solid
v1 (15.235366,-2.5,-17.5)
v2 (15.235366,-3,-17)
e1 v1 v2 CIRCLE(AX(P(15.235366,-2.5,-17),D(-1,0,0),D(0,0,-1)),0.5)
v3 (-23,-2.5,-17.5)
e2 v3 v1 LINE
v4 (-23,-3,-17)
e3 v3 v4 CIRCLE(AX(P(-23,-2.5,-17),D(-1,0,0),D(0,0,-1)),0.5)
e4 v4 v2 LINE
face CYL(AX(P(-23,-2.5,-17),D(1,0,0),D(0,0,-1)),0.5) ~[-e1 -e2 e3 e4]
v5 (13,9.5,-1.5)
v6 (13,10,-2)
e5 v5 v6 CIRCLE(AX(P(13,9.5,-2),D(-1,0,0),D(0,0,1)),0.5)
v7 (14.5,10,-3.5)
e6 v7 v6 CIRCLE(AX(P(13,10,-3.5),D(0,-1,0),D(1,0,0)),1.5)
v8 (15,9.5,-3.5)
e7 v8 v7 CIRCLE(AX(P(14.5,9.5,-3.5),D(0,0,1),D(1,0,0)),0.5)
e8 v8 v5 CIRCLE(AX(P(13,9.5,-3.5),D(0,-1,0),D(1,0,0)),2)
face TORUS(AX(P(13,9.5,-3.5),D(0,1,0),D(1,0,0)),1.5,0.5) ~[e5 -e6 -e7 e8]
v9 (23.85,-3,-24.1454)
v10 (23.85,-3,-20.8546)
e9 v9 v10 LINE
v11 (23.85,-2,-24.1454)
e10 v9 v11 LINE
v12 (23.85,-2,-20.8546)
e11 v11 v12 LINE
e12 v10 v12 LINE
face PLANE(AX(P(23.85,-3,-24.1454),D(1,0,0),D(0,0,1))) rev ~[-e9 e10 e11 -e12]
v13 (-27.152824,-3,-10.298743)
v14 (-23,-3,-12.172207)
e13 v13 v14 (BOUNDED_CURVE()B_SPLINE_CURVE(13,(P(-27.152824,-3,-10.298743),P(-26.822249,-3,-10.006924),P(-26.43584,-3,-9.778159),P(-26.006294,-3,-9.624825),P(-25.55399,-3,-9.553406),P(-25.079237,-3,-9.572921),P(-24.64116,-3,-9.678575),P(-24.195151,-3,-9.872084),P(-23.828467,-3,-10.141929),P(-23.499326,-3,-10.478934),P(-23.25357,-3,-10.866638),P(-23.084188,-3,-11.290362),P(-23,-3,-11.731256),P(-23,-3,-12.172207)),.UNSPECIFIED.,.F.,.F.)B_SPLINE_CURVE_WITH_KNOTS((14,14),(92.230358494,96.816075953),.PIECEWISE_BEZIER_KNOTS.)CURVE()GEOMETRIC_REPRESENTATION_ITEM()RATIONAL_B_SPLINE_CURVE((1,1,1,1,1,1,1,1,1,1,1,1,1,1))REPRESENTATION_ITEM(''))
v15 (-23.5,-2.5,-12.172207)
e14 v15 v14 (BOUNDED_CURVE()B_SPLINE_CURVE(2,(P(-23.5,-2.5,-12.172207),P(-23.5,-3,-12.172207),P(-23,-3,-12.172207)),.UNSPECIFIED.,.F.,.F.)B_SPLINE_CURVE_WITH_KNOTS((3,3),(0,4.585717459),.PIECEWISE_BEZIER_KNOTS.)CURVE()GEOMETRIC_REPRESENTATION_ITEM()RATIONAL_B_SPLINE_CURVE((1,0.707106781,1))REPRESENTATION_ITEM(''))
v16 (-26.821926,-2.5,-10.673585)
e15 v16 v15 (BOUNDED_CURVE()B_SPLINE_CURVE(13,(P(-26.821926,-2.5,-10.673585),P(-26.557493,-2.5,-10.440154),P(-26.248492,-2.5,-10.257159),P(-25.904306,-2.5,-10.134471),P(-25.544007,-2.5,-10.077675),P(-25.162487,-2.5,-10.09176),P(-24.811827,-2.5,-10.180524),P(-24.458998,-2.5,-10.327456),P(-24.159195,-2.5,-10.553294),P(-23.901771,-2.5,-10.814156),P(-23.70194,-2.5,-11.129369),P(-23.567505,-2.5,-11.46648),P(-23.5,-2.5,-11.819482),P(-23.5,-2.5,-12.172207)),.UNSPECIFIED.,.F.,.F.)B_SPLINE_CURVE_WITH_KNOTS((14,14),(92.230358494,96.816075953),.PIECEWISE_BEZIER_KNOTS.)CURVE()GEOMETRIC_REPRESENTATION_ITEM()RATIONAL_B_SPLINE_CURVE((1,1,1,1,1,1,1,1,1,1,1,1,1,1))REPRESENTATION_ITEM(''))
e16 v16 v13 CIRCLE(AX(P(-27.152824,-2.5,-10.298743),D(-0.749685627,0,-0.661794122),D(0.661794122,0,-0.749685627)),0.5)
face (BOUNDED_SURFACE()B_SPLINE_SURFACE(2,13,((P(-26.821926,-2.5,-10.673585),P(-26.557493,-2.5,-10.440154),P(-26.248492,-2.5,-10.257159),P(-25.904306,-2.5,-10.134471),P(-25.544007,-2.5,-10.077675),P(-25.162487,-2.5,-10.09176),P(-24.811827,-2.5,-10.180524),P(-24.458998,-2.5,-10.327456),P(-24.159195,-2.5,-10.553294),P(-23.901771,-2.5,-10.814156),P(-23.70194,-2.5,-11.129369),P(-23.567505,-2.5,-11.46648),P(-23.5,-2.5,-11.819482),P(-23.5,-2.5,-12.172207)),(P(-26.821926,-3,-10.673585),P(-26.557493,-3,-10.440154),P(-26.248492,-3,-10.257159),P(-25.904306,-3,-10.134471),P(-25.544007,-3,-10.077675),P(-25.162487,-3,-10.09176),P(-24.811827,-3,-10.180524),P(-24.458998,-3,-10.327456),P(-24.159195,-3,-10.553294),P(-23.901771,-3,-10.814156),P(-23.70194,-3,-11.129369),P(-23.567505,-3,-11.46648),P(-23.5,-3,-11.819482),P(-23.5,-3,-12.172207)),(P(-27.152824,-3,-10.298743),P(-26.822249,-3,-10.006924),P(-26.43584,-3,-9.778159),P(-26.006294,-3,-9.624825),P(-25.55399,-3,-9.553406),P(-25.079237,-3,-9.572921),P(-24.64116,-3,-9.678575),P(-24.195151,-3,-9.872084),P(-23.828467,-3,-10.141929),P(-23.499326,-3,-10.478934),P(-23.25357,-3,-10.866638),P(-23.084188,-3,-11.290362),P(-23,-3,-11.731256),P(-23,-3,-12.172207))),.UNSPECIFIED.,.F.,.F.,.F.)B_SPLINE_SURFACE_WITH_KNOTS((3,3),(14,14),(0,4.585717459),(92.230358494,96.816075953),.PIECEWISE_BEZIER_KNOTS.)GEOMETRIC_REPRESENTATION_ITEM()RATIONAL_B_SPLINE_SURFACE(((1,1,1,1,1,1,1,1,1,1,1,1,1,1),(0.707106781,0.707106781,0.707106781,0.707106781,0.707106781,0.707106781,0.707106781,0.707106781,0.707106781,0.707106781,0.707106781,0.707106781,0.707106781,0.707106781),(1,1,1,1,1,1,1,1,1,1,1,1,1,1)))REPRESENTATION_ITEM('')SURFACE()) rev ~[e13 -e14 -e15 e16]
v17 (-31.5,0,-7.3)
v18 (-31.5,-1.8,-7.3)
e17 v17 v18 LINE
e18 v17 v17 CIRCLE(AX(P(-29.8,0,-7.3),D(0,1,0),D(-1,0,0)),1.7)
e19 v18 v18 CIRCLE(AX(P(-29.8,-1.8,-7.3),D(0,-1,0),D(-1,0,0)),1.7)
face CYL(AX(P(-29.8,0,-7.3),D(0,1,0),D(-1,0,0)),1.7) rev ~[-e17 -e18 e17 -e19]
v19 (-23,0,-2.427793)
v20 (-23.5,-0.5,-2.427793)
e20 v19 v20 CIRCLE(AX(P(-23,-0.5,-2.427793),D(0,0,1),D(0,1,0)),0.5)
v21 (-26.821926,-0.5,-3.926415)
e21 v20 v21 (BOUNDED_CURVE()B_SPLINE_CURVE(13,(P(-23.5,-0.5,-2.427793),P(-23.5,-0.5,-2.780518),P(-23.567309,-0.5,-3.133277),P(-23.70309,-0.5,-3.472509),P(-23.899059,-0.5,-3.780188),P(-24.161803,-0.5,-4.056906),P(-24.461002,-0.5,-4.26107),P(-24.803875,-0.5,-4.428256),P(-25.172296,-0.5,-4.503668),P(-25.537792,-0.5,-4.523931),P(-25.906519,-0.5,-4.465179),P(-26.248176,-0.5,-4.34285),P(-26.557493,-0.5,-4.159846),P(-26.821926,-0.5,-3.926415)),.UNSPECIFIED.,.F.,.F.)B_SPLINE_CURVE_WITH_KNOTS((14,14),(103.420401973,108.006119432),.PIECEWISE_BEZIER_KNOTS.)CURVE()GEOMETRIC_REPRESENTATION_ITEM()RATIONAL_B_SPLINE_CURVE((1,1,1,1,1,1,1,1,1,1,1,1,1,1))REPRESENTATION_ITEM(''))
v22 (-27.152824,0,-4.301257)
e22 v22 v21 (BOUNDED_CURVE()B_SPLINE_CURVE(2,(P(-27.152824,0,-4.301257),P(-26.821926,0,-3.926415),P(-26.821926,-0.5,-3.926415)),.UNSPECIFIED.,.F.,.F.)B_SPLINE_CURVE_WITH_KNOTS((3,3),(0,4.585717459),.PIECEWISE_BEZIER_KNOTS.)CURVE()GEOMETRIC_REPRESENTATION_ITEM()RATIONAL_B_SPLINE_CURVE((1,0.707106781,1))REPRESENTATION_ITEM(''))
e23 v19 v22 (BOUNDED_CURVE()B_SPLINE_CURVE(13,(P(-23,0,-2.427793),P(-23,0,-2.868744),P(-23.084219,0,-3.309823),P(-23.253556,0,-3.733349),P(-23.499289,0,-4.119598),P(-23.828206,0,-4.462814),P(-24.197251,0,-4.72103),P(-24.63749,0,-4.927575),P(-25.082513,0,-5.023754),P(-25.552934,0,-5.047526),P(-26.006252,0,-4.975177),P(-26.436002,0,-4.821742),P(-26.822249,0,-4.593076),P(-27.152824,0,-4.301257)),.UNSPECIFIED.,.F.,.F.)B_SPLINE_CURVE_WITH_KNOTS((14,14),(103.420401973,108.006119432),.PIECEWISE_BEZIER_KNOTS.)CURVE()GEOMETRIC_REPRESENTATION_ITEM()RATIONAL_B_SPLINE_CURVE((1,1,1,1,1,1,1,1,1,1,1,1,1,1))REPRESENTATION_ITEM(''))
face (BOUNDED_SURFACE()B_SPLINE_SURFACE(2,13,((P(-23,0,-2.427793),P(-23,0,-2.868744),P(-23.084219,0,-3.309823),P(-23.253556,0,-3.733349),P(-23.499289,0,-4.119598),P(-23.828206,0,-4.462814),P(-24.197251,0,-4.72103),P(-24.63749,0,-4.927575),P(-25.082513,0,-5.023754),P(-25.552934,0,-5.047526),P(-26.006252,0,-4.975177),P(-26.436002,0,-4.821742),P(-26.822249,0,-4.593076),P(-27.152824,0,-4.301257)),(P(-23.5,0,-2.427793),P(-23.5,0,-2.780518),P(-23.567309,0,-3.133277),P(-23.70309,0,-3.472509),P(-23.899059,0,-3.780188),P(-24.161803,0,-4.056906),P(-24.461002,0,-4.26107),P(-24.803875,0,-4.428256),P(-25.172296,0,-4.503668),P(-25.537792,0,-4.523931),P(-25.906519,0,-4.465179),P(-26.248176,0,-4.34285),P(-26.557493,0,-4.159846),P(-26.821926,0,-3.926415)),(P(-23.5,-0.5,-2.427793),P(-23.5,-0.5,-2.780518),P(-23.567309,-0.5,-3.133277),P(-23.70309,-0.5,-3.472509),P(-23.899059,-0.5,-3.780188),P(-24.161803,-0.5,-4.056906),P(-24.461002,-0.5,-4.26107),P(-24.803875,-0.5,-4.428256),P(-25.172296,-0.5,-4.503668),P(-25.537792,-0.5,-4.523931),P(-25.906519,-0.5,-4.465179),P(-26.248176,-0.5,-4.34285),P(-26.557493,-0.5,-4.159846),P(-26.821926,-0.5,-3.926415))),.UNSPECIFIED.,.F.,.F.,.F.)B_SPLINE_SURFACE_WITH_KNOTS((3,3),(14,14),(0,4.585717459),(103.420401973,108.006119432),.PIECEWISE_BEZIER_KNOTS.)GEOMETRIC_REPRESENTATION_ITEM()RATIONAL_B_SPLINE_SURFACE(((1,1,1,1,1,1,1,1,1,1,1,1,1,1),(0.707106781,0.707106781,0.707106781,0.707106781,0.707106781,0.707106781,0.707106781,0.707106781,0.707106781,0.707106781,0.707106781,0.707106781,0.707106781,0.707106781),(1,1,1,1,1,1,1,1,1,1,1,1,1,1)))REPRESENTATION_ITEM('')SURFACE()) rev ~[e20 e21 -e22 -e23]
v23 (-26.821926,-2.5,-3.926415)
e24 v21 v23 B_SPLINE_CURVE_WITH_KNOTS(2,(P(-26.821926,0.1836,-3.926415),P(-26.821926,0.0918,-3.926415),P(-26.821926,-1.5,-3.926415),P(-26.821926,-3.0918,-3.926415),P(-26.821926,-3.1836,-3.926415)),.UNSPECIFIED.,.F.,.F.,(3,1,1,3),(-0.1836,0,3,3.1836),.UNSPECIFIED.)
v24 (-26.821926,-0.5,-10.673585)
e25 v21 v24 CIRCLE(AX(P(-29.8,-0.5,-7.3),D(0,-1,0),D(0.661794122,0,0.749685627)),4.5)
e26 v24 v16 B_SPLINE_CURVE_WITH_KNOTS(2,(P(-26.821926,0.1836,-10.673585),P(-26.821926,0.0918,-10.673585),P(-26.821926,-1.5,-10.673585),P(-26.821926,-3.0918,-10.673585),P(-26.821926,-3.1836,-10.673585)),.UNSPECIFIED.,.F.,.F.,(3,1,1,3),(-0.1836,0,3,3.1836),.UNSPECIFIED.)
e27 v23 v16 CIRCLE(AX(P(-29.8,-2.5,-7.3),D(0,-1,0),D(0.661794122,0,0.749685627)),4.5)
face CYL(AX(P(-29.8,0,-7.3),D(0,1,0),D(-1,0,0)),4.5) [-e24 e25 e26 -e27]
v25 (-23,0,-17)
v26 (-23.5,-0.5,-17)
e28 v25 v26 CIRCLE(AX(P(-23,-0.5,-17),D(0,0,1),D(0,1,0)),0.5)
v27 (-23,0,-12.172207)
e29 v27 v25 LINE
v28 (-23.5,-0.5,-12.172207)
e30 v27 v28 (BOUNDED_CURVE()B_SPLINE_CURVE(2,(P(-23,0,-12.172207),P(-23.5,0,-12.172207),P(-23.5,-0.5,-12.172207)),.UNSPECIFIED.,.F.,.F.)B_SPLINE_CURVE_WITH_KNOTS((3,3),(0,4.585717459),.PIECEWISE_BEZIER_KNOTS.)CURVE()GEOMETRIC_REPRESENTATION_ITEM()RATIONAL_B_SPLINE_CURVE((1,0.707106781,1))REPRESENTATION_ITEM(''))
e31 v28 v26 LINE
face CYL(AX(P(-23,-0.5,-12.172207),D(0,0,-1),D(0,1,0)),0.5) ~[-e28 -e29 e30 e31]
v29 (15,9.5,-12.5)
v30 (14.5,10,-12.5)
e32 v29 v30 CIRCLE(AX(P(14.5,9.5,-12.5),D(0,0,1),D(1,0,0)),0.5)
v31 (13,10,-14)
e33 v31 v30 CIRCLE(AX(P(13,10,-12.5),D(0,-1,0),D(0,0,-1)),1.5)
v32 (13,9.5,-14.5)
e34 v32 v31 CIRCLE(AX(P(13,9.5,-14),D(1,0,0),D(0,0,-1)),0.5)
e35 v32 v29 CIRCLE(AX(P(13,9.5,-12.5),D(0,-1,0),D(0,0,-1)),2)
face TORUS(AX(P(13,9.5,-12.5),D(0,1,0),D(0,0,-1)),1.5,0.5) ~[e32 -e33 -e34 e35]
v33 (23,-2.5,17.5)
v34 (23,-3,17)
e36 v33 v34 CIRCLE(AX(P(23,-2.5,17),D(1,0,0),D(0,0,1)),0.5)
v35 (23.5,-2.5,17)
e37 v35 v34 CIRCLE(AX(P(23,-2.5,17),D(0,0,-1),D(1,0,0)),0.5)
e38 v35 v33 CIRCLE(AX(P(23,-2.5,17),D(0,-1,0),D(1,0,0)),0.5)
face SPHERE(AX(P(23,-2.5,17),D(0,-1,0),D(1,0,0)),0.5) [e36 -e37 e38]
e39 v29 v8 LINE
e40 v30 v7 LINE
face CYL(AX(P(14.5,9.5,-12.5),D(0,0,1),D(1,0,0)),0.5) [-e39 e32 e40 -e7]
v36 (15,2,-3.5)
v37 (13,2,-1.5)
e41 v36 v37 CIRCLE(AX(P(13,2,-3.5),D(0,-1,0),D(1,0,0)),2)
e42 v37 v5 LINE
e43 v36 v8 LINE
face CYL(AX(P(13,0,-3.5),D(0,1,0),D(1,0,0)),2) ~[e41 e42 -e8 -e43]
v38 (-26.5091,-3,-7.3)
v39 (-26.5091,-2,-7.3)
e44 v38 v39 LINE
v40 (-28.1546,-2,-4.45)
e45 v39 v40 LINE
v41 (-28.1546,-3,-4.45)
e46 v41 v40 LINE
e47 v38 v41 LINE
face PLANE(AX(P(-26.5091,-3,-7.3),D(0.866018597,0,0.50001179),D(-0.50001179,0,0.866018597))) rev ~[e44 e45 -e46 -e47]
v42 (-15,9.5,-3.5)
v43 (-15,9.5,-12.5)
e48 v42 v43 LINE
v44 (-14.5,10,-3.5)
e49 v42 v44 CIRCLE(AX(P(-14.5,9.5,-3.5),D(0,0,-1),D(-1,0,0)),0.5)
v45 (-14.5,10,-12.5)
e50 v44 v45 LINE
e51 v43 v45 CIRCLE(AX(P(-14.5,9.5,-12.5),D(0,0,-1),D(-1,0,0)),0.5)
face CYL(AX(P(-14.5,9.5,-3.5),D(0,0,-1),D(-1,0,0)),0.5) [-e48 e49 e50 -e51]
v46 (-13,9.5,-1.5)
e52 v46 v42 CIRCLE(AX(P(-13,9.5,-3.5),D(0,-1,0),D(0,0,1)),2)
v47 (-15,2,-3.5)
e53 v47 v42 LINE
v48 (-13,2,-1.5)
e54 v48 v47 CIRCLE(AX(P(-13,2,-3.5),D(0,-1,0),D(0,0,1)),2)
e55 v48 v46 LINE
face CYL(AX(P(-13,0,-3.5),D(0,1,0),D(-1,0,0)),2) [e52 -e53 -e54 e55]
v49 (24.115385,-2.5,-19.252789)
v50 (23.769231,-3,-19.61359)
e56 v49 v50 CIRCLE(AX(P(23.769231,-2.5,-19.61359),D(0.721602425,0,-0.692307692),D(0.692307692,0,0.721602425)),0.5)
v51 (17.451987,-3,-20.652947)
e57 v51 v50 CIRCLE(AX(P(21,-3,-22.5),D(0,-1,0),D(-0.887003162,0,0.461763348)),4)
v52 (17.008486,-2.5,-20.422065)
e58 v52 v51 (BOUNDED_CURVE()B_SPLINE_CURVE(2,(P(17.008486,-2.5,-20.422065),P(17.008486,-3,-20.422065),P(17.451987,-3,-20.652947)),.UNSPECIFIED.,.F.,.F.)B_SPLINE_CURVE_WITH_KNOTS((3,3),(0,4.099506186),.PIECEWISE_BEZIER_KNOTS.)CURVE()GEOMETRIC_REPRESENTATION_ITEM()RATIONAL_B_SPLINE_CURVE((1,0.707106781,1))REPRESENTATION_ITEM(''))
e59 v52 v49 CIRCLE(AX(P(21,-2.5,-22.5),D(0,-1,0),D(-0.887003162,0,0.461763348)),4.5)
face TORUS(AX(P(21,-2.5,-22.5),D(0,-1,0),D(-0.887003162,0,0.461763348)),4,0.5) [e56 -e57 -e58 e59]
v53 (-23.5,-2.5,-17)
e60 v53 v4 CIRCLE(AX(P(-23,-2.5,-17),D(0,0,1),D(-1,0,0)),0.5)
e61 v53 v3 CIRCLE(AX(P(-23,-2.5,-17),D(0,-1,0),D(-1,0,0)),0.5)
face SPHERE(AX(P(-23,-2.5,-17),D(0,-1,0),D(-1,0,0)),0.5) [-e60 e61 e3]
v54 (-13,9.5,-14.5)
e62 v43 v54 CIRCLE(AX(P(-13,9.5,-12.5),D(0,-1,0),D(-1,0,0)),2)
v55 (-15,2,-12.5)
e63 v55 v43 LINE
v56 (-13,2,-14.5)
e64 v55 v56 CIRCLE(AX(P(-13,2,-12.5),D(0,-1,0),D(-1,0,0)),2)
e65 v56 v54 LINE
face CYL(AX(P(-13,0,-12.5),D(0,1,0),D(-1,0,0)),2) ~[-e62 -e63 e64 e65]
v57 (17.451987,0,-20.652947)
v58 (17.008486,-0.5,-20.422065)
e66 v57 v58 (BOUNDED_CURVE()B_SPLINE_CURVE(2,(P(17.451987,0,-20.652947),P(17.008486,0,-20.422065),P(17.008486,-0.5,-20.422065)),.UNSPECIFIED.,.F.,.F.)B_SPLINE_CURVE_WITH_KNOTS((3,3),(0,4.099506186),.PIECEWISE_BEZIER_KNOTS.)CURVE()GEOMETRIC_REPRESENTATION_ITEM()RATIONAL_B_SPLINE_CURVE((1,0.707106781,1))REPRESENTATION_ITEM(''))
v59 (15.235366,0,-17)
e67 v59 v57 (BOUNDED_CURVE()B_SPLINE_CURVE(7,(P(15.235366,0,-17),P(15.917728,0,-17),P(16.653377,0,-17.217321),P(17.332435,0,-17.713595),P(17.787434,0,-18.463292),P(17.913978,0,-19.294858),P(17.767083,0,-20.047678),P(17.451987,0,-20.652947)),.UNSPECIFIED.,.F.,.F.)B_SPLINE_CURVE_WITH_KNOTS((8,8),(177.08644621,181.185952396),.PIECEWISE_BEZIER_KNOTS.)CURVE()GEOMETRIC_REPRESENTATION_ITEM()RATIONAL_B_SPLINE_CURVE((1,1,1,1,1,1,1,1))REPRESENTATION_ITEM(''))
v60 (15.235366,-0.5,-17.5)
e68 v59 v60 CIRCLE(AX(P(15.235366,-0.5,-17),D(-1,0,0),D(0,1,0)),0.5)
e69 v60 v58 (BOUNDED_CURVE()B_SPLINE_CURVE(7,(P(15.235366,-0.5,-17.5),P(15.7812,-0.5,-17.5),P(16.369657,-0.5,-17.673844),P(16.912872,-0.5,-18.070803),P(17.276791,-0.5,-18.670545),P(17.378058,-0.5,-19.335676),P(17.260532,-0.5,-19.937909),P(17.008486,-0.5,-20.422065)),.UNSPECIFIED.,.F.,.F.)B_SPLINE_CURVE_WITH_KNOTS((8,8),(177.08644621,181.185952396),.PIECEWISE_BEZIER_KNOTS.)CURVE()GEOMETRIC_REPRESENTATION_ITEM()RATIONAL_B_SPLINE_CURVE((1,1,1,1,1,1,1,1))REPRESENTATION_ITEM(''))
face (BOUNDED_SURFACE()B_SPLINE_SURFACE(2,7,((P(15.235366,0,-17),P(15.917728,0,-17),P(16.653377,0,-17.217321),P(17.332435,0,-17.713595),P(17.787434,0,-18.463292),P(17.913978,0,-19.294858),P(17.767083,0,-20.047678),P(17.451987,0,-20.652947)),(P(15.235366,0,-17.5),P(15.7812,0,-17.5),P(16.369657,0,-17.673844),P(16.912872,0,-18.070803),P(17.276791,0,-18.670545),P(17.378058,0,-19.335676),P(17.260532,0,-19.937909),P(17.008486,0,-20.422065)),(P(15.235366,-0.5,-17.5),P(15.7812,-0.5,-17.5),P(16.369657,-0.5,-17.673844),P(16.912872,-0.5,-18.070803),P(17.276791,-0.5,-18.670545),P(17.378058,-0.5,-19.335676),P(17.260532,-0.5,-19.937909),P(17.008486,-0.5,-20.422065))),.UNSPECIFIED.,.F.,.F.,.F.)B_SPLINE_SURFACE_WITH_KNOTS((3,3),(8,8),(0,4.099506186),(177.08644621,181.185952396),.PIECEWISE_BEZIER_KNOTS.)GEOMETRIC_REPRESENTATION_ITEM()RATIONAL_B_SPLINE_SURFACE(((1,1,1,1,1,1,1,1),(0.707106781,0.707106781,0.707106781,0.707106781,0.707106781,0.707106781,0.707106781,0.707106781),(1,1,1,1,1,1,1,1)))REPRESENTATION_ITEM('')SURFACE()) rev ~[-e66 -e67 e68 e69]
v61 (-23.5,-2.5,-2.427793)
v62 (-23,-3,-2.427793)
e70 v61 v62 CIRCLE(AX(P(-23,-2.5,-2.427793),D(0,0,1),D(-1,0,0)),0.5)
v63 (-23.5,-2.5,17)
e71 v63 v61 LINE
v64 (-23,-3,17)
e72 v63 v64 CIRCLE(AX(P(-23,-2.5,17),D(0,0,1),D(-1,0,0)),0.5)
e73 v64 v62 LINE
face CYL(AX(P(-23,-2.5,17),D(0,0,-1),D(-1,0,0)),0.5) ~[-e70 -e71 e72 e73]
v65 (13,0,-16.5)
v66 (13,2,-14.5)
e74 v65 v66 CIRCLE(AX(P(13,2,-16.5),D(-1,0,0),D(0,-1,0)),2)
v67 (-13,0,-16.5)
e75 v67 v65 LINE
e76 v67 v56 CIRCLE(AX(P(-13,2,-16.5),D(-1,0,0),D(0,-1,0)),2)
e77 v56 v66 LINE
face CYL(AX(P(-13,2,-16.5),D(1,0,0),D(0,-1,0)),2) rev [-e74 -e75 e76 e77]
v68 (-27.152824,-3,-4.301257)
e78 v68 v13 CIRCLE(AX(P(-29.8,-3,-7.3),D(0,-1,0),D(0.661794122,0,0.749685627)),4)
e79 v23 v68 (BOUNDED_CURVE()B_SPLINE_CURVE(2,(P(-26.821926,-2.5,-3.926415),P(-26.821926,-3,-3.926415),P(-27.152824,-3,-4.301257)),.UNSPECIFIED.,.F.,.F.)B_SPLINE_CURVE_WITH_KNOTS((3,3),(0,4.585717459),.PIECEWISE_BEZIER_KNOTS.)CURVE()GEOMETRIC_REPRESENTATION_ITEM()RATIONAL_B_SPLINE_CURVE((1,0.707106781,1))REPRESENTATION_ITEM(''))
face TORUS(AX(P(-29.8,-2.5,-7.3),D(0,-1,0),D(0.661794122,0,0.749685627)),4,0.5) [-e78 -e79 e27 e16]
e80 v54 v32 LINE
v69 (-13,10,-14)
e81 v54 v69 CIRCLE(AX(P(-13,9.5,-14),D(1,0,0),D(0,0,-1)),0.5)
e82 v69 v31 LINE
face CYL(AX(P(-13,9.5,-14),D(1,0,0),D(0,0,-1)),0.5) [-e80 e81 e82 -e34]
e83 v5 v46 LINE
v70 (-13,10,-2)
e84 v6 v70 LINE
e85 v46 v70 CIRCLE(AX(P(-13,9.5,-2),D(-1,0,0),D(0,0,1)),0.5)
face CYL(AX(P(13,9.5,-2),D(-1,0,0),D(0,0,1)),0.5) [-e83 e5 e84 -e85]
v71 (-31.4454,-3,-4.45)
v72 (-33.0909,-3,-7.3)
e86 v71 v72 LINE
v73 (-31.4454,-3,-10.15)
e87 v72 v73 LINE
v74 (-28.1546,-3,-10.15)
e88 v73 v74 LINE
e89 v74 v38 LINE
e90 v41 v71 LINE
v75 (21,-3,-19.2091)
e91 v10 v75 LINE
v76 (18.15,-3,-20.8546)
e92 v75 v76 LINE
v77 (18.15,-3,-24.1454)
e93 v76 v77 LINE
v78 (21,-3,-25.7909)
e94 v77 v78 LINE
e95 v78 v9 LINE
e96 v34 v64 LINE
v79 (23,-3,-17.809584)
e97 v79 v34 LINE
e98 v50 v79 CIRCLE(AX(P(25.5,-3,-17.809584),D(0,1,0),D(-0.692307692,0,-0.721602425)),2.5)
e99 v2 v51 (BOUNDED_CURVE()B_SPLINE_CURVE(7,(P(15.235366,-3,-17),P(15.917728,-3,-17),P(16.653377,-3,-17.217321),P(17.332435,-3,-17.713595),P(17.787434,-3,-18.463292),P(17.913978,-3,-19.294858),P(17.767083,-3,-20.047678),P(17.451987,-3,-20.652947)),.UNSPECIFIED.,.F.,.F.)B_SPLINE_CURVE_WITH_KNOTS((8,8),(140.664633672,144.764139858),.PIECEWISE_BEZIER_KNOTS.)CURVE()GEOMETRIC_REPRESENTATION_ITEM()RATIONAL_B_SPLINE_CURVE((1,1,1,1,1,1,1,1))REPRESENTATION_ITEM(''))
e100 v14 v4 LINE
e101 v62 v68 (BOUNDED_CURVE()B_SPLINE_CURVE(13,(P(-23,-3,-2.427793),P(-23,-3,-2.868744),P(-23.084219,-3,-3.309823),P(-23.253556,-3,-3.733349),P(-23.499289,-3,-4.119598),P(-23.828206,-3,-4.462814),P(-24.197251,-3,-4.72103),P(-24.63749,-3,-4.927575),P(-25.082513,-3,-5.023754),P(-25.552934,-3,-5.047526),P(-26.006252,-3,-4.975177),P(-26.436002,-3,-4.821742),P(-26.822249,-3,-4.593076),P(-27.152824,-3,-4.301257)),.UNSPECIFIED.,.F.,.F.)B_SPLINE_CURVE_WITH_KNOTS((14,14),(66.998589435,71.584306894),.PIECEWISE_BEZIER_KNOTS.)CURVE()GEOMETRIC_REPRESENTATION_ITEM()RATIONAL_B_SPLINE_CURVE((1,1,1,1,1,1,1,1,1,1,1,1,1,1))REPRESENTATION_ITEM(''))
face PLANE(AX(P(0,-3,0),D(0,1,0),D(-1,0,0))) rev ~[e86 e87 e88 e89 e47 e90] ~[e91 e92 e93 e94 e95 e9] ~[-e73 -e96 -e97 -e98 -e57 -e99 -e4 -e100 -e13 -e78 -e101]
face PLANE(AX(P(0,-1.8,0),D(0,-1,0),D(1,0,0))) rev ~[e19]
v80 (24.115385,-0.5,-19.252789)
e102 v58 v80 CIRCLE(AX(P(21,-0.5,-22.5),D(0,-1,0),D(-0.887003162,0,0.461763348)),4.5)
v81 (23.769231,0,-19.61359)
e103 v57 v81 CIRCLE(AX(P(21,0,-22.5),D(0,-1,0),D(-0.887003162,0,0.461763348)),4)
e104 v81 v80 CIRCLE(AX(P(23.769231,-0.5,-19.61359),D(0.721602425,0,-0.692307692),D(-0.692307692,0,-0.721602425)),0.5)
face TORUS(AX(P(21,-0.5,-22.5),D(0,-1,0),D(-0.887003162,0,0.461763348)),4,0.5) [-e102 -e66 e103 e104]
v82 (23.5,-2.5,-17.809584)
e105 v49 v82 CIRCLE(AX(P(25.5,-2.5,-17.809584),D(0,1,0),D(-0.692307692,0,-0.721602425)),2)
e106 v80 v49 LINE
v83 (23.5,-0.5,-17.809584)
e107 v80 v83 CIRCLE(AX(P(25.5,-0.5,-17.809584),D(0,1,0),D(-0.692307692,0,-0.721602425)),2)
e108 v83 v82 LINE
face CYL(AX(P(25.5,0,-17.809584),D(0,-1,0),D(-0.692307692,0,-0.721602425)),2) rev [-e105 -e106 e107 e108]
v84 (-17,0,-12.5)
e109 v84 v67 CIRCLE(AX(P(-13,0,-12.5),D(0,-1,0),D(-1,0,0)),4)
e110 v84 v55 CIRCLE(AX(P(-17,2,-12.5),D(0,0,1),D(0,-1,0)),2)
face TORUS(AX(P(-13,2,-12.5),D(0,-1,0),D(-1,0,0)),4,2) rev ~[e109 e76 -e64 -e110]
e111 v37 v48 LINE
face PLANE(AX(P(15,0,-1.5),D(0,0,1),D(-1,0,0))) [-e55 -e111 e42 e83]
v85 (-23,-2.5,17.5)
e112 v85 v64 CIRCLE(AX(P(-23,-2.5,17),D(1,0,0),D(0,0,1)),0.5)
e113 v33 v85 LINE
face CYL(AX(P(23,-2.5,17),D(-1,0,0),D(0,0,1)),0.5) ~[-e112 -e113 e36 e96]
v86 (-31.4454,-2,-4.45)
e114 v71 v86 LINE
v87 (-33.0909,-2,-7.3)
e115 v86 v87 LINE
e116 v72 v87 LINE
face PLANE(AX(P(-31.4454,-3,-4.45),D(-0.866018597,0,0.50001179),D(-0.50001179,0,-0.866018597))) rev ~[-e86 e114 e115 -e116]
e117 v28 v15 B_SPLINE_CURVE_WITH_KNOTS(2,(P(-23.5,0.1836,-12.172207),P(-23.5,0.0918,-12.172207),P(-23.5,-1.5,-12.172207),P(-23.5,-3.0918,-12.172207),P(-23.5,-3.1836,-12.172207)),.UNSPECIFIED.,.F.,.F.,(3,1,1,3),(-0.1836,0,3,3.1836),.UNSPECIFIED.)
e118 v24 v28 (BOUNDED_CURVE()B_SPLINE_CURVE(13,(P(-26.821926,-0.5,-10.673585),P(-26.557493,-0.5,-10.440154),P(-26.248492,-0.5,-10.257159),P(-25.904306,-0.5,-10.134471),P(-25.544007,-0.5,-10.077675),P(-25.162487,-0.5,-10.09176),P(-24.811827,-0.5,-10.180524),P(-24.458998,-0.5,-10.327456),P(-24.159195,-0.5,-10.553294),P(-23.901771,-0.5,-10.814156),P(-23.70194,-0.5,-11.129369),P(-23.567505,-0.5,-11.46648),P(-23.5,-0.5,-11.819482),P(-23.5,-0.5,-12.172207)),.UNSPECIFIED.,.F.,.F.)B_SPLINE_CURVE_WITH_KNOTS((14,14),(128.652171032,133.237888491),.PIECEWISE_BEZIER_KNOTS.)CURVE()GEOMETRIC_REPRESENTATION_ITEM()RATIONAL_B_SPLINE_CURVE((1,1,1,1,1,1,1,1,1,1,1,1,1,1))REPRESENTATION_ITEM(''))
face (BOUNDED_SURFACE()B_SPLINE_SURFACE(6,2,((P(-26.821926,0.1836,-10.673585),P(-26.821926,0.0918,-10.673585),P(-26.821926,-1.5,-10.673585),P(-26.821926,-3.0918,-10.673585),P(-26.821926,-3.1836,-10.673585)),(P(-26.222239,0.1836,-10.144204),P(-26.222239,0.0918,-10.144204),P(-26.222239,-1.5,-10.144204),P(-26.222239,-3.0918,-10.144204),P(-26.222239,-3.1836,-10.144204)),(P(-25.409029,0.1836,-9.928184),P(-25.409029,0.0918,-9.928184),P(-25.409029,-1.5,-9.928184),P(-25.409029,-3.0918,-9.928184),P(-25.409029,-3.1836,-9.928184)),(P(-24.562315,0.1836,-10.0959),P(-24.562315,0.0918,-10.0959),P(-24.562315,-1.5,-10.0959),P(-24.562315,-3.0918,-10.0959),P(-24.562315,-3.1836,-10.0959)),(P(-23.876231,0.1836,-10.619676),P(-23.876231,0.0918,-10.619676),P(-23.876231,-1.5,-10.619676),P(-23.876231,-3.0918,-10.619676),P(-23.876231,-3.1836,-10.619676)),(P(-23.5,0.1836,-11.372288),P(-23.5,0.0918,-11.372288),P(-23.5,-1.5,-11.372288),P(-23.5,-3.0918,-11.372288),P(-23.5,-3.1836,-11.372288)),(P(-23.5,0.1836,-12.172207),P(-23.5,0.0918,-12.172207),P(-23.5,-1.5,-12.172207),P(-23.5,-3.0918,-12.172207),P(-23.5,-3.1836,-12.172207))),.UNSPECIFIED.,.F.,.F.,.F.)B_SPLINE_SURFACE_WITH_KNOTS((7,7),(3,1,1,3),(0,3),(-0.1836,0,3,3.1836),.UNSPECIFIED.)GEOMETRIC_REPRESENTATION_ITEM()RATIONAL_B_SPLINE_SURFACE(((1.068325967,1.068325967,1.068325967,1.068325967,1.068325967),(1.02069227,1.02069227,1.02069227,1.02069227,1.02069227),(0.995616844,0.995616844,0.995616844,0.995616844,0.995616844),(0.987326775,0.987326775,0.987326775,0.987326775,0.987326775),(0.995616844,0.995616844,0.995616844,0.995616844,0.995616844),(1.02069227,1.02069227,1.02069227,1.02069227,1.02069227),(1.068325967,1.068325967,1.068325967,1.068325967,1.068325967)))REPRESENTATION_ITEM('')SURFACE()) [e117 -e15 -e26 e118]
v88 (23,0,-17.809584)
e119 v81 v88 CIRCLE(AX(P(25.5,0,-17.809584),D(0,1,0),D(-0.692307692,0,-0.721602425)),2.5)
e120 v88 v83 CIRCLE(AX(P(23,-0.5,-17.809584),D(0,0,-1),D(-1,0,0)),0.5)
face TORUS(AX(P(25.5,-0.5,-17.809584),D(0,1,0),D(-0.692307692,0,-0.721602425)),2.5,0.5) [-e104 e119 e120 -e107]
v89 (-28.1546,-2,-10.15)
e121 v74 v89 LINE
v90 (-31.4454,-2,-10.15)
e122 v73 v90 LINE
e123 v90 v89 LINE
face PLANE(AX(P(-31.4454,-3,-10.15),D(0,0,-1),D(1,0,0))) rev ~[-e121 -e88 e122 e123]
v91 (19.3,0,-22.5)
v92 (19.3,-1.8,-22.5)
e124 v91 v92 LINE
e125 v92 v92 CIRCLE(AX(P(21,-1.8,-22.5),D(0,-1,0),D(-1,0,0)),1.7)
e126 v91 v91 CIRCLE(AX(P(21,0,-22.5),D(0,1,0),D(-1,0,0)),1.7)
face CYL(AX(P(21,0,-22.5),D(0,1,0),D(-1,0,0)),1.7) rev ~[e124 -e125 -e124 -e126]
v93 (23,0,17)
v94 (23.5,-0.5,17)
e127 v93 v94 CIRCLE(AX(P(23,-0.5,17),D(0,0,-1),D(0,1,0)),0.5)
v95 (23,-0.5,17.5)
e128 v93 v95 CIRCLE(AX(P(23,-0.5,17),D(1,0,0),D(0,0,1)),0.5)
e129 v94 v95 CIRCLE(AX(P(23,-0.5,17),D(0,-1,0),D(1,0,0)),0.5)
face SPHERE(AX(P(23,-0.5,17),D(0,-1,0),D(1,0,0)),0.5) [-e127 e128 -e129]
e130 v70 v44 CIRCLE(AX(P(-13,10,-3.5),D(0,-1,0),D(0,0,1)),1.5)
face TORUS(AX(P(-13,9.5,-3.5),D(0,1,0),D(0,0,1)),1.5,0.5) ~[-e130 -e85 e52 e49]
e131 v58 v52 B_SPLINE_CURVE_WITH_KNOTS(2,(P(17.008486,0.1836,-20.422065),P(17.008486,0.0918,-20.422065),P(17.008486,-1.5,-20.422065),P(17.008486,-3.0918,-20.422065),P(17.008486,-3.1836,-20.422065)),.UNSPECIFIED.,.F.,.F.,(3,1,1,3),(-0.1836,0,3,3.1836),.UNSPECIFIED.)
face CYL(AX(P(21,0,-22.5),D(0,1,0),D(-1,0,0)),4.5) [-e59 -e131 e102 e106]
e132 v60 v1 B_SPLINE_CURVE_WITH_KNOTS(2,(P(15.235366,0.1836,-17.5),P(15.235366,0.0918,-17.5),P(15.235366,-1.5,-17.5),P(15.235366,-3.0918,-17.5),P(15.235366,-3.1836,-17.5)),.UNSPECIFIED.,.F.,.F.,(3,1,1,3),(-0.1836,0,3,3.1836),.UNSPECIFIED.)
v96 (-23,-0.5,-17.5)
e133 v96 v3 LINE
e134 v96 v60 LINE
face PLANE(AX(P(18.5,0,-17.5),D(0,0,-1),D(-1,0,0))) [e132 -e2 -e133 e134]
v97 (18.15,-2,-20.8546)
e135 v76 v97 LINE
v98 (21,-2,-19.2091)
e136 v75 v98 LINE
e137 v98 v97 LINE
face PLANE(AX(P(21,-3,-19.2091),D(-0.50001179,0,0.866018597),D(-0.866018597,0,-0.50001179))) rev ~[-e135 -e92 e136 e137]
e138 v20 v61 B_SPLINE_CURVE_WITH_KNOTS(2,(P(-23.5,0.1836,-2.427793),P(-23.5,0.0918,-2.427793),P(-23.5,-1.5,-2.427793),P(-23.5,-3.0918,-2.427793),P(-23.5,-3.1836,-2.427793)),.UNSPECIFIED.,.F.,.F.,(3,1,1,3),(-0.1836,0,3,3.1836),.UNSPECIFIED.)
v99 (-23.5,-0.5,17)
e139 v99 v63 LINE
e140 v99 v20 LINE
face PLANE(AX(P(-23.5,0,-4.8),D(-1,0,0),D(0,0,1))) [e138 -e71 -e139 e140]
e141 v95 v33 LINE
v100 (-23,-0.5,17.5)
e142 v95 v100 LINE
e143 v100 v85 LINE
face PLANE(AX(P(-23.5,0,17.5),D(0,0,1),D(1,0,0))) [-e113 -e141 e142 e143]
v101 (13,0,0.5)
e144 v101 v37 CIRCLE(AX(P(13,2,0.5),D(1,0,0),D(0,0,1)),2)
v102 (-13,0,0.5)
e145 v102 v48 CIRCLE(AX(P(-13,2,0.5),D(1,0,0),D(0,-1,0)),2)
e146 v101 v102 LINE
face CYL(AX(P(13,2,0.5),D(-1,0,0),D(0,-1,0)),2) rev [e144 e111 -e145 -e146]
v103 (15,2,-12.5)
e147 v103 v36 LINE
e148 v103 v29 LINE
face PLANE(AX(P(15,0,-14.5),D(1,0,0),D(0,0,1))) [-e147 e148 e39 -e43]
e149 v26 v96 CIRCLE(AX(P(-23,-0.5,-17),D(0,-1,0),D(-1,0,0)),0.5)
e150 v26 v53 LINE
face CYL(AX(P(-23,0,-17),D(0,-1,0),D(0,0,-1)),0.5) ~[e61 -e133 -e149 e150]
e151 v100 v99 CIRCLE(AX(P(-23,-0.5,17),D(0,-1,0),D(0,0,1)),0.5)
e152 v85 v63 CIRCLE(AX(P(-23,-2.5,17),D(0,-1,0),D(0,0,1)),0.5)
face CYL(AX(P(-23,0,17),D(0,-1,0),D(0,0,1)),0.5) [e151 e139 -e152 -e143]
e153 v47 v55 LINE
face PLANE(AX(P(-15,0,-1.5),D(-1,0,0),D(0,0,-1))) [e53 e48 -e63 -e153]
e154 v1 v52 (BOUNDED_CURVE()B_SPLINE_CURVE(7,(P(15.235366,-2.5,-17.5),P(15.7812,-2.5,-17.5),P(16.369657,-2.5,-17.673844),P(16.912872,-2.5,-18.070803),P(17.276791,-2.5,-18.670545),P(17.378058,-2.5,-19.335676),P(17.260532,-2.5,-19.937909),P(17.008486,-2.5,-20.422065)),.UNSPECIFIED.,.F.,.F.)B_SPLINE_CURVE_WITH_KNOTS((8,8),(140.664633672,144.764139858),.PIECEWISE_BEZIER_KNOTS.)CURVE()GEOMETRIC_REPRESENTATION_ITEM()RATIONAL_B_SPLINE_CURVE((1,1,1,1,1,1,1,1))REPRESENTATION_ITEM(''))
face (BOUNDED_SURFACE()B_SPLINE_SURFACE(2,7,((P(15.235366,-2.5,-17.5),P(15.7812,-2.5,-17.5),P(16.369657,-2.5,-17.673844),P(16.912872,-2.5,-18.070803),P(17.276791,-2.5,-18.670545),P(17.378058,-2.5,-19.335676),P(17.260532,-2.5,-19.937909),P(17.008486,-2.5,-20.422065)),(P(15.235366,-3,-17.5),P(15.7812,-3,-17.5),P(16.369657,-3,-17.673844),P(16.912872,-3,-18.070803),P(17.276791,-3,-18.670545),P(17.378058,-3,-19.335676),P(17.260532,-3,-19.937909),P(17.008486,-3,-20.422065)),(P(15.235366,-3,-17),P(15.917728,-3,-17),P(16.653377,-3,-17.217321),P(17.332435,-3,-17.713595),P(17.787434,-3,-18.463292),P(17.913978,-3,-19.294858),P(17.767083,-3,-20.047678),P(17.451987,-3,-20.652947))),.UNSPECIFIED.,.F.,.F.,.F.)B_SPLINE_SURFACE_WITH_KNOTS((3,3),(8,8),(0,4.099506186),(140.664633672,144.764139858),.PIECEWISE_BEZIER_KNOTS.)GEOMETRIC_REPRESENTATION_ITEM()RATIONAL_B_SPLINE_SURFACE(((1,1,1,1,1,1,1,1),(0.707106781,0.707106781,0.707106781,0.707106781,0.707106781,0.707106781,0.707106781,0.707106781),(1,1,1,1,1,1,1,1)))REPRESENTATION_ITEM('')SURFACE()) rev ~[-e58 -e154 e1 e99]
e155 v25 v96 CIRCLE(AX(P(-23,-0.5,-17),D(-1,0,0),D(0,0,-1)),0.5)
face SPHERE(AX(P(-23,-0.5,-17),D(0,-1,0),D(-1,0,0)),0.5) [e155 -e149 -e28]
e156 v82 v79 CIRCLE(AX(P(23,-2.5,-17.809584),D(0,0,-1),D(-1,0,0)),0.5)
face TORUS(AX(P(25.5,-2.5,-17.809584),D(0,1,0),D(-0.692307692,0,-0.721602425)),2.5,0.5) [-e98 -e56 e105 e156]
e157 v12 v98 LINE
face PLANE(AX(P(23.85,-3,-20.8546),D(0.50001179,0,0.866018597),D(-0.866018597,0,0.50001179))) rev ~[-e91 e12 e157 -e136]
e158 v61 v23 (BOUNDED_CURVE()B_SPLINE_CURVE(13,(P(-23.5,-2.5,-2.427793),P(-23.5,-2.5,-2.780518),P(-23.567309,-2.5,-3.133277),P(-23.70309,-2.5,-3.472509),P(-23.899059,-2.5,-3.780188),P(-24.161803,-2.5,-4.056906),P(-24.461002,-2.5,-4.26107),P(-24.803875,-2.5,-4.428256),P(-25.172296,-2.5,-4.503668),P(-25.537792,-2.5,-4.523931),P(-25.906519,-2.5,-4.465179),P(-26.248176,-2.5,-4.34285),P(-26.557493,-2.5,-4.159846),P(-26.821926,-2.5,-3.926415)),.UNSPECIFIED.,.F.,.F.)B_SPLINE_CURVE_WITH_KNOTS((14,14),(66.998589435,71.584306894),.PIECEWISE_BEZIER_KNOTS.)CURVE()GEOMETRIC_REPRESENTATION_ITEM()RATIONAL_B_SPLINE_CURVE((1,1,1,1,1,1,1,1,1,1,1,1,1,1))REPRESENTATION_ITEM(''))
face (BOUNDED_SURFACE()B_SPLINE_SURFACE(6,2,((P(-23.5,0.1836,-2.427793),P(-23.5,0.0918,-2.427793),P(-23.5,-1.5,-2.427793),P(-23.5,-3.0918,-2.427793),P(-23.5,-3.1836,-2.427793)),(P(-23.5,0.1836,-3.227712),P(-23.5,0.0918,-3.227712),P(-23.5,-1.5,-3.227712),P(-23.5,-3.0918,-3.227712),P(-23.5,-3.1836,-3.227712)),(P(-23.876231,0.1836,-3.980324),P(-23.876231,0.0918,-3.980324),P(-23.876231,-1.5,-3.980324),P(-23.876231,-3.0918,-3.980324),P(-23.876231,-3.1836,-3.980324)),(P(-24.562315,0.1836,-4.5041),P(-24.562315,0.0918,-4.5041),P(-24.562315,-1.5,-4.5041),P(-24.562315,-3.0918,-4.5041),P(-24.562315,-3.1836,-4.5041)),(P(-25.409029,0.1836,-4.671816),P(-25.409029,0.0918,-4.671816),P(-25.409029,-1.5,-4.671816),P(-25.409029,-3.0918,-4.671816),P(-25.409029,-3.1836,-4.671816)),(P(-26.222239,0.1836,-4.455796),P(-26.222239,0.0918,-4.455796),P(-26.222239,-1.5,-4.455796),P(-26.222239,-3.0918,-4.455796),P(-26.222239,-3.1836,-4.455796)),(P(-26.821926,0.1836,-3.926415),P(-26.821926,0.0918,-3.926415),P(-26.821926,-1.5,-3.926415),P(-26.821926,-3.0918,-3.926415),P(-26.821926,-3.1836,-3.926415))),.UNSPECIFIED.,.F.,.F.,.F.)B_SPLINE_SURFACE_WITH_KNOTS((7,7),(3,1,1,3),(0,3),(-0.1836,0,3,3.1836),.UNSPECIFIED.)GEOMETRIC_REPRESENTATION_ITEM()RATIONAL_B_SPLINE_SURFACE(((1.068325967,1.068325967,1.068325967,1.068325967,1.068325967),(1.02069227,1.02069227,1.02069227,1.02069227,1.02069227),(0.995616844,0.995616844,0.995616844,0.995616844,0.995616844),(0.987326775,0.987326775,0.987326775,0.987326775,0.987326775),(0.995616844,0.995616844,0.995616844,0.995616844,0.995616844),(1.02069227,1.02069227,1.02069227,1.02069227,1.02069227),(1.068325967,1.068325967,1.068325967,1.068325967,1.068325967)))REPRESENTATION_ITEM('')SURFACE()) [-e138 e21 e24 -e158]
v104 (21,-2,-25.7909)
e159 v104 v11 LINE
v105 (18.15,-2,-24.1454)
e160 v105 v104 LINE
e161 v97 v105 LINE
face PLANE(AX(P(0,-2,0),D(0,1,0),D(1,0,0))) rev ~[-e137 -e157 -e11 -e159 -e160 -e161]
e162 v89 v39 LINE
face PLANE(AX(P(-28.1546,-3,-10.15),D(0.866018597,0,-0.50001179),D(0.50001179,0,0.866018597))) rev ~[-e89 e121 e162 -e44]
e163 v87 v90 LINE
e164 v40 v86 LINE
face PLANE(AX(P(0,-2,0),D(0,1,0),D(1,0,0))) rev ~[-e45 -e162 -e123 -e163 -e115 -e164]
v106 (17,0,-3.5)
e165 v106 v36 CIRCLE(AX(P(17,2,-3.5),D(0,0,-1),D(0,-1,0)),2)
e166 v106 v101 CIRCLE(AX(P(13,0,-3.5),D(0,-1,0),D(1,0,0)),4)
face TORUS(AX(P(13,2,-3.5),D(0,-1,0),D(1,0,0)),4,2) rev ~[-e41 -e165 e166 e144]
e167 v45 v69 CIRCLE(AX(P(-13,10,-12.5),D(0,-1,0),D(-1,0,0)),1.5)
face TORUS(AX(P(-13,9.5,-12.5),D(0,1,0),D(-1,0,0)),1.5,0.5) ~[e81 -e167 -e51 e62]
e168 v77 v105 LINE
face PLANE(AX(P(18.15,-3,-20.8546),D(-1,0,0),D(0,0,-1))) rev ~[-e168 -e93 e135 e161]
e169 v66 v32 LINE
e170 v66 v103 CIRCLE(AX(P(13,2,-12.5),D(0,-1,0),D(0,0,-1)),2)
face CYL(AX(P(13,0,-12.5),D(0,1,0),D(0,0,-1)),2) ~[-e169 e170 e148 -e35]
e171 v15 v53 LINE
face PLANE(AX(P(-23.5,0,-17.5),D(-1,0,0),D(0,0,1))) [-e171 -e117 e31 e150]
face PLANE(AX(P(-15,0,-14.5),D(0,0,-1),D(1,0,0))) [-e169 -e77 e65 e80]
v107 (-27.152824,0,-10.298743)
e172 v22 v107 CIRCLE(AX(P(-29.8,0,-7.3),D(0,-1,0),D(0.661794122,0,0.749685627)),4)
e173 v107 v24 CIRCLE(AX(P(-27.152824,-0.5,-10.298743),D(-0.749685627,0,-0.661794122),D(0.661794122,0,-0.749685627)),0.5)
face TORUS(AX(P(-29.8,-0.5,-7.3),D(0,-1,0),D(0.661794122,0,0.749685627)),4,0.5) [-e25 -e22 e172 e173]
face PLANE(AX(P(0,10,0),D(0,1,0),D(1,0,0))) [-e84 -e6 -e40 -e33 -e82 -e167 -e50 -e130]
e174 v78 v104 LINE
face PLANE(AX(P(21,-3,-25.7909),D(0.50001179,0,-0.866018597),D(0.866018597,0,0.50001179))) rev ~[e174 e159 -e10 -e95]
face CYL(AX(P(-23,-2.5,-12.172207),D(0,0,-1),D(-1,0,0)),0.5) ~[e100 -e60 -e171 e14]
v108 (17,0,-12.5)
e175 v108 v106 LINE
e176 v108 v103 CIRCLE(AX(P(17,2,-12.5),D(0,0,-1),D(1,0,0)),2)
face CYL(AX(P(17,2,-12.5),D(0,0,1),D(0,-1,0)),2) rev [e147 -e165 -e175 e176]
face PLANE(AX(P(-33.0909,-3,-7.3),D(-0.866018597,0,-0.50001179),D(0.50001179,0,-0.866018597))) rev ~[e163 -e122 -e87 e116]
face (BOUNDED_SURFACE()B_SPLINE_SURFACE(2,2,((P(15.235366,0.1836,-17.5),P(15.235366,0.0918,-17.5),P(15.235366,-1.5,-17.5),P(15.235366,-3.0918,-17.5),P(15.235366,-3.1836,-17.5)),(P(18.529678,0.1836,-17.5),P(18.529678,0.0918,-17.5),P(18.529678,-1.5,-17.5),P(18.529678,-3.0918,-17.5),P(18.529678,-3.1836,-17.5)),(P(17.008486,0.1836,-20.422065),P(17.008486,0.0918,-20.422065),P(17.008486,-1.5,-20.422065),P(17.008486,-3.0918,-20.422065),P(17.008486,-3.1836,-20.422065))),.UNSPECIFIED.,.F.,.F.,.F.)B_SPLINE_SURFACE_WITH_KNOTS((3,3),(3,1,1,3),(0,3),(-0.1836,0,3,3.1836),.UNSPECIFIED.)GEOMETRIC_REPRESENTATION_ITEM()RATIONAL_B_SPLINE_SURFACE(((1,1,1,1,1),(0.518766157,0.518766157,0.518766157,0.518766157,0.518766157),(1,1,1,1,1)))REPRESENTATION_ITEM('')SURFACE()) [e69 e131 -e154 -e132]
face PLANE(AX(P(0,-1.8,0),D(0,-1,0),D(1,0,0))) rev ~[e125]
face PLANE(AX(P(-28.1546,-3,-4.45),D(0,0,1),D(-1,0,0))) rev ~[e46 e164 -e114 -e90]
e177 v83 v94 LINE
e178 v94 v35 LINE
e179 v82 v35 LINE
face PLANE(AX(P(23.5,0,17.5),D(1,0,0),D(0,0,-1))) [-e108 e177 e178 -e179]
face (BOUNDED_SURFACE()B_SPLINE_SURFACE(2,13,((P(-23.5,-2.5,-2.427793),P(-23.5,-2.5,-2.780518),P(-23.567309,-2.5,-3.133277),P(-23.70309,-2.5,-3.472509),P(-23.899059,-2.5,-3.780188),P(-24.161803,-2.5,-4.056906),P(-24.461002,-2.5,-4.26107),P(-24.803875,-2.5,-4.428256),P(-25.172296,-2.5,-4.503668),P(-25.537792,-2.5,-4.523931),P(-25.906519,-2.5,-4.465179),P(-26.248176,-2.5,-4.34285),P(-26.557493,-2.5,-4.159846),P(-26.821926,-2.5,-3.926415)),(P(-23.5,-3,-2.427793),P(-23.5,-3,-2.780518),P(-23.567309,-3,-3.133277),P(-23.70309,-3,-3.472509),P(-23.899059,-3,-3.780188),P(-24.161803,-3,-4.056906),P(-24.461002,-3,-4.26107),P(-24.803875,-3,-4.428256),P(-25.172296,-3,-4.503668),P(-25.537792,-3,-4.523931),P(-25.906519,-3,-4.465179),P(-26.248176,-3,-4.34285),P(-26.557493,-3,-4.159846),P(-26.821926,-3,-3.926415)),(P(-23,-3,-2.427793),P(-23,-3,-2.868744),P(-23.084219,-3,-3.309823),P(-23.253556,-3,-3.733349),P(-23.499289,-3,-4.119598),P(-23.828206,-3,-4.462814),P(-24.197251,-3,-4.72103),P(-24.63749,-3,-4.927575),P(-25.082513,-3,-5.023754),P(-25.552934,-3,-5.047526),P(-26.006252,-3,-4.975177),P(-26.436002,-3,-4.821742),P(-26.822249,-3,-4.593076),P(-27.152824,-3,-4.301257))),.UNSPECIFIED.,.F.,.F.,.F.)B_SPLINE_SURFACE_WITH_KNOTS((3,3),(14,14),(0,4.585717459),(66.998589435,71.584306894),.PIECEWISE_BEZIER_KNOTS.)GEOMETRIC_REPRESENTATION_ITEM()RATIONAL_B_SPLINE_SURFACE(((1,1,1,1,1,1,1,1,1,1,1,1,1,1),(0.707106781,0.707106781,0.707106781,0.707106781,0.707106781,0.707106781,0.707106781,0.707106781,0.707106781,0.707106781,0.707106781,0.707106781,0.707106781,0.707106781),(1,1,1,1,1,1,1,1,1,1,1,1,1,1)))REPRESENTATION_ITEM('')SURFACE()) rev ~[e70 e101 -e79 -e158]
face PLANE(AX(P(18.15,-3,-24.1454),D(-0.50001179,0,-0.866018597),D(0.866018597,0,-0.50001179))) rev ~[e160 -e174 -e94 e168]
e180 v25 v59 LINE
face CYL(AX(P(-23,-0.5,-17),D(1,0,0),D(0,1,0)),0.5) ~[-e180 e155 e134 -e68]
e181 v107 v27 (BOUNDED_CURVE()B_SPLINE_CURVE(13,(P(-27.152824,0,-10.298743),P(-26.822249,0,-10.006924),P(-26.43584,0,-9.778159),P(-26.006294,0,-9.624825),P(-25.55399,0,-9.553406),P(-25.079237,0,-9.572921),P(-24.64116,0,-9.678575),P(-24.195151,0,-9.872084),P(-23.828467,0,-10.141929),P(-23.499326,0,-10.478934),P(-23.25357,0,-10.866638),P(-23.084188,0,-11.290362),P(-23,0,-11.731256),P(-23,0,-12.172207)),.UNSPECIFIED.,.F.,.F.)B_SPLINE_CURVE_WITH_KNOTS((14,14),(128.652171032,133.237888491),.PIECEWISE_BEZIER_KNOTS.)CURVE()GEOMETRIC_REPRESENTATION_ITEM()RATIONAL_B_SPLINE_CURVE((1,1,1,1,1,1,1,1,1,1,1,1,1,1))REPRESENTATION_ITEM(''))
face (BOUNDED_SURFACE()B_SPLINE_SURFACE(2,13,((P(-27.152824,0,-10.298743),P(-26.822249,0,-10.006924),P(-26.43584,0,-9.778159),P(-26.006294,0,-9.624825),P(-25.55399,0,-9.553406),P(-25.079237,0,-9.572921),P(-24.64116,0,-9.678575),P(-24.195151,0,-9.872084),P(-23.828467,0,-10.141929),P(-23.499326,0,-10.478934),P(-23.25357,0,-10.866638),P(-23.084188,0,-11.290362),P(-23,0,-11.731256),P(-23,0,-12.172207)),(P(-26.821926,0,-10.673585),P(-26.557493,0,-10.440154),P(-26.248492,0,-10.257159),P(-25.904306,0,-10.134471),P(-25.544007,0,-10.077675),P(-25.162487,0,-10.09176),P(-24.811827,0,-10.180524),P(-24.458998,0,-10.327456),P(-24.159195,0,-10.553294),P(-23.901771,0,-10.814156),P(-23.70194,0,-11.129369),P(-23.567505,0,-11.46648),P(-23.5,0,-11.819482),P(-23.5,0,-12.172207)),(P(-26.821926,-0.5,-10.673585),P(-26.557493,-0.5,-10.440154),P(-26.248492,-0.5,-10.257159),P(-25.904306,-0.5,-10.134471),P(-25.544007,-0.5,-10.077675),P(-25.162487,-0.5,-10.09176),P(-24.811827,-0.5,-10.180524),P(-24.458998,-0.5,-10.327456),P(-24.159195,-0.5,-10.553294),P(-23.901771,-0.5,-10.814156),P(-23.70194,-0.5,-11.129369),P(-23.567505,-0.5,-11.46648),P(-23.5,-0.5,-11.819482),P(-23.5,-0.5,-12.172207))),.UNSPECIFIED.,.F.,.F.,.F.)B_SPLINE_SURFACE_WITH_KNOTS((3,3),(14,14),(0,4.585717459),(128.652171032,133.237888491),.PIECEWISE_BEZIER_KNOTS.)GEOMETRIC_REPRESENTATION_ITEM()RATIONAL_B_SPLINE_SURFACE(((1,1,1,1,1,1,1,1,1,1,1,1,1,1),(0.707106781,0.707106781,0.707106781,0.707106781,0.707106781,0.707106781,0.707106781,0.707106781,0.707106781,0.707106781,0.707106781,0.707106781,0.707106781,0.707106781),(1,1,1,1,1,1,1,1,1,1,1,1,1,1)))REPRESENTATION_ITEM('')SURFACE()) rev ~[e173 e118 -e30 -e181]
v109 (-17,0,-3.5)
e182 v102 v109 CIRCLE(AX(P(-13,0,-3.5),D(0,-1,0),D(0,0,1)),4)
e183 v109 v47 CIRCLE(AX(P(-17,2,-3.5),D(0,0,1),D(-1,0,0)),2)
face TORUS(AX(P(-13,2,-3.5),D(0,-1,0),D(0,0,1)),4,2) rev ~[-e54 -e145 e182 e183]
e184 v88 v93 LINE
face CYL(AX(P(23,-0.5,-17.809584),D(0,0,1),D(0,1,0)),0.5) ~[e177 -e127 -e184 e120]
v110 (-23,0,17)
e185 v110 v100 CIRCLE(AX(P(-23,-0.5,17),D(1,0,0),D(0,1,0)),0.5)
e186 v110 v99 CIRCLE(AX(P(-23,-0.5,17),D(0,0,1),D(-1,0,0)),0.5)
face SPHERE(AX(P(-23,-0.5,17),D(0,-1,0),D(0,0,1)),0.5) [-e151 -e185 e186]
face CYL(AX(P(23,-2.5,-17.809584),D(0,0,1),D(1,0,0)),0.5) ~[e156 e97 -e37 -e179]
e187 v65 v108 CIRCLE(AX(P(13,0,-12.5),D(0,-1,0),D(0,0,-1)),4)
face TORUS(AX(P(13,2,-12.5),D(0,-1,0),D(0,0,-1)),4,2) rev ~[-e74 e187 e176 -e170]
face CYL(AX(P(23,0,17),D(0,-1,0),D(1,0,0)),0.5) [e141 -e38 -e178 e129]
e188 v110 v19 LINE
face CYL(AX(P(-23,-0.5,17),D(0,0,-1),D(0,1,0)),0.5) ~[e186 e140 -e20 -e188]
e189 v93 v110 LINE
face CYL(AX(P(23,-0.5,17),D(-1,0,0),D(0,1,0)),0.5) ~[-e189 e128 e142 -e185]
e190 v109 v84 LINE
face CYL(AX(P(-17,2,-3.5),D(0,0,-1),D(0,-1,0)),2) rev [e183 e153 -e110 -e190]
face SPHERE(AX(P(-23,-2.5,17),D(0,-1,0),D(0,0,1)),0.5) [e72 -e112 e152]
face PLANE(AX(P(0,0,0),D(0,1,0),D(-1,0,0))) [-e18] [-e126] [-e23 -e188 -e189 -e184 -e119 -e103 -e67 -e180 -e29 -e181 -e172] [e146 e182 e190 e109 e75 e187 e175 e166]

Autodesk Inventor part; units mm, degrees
ref_plane "YZ Plane" through (0, 0, 0) normal (1, 0, 0) x (0, 1, 0)
ref_plane "XZ Plane" through (0, 0, 0) normal (0, 1, 0) x (-1, 0, 0)
ref_plane "XY Plane" through (0, 0, 0) normal (0, 0, 1) x (1, 0, 0)
sketch "Sketch1" plane through (0, 0, 0) normal (0, 1, 0) x (-1, 0, 0)
  line L0 (23.5, 17.5) -> (-23.5, 17.5)
  line L1 (-23.5, 17.5) -> (-23.5, -17.5)
  line L2 (-23.5, -17.5) -> (23.5, -17.5)
  line L3 (23.5, -17.5) -> (23.5, 17.5)
  line L4 (23.5, 17.5) -> (-23.5, -17.5) construction
  line L5 (-23.5, 17.5) -> (23.5, -17.5) construction
  circle A0 centre (-21, -22.5) radius 1.7
  circle A1 centre (-21, -22.5) radius 4.5
  line L6 (-23.5, -18.7583) -> (-23.5, -17.5)
  line L7 (-18.5, -17.5) -> (-18.5, -18.7583)
  circle A2 centre (29.8, -7.3) radius 1.7
  circle A3 centre (29.8, -7.3) radius 4.5
  line L8 (26.0583, -9.8) -> (23.5, -9.8)
  line L9 (23.5, -4.8) -> (26.0583, -4.8)
  point P0 (0, 0)
  point P1 (-16.8117, -24.1455)
  dimension "d0" = 47
  dimension "d1" = 35
  dimension "d3" = 3.4
  dimension "d4" = 5
  dimension "d5" = 9
  dimension "d17" = 2.5
  dimension "d18" = 5
  dimension "d19" = 50.8
  dimension "d20" = 5
  dimension "d21" = 2.5
  dimension "d22" = 15.2
extrude "Extrusion1" add sketch "Sketch1" against normal blind 3
sketch "Sketch3" plane through (0, -3, 0) normal (0, 1, 0) x (1, 0, 0)
  circle A0 centre (-29.8, 7.3) radius 1.7 projected
  line L0 (-28.1546, 4.45) -> (-31.4454, 4.45)
  line L1 (-31.4454, 4.45) -> (-33.0909, 7.3)
  line L2 (-33.0909, 7.3) -> (-31.4454, 10.15)
  line L3 (-31.4454, 10.15) -> (-28.1546, 10.15)
  line L4 (-28.1546, 10.15) -> (-26.5091, 7.3)
  line L5 (-26.5091, 7.3) -> (-28.1546, 4.45)
  circle A1 centre (21, 22.5) radius 1.7 projected
  line L6 (21, 19.2091) -> (18.15, 20.8546)
  line L7 (18.15, 20.8546) -> (18.15, 24.1454)
  line L8 (18.15, 24.1454) -> (21, 25.7909)
  line L9 (21, 25.7909) -> (23.85, 24.1454)
  line L10 (23.85, 24.1454) -> (23.85, 20.8546)
  line L11 (23.85, 20.8546) -> (21, 19.2091)
  point P0 (0, 0)
  dimension "d23" = 5.7
extrude "Extrusion3" cut sketch "Sketch3" along normal blind 1 contours A0 | L0 L1 L2 L3 L4 L5 | A1 | L6 L7 L8 L9 L10 L11
sketch "Sketch4" plane through (0, 0, 0) normal (0, 1, 0) x (1, 0, 0)
  line L0 (-15, 14.5) -> (15, 14.5)
  line L1 (15, 14.5) -> (15, 1.5)
  line L2 (15, 1.5) -> (-15, 1.5)
  line L3 (-15, 1.5) -> (-15, 14.5)
  line L4 (18.5, 17.5) -> (-23.5, 17.5) projected
  point P0 (0, 0)
  point P1 (0, 1.5)
  dimension "d26" = 30
  dimension "d27" = 13
  dimension "d28" = 3
extrude "Extrusion4" add sketch "Sketch4" along normal blind 10
fillet "Fillet4" radius 2 15 edges at (-15, 5, -14.5) (-15, 5, -1.5) (15, 5, -14.5) (15, 5, -1.5) (0, 0, -14.5) (-15, 0, -8) (0, 0, -1.5) (15, 0, -8) (18.5, -1.5, -17.5) (18.5, -1.5, -18.7583) (23.5, -1.5, -18.7583) (-23.5, -1.5, -9.8) (-23.5, -1.5, -4.8) (-26.0583, -1.5, -4.8) (-26.0583, -1.5, -9.8)
fillet "Fillet5" radius 0.5 3 edges at (-23.5, -1.5, -17.5) (-23.5, -1.5, 17.5) (23.5, -1.5, 17.5)
fillet "Fillet6" radius 0.5 28 edges at (23.6603, 0, -18.594) (21.7305, 0, -26.9403) (-3.8823, 0, -17.5) (-23.3536, 0, -17.3536) (-23.5, 0, -14.5861) (-34.3, 0, -7.3) (-23.5, 0, 7.2861) (-23.3536, 0, 17.3536) (0, 0, 17.5) (23.3536, 0, 17.3536) (23.3536, -3, 17.3536) (0, -3, 17.5) (-23.3536, -3, 17.3536) (-23.5, -3, 7.2861) (-34.3, -3, -7.3) (-23.5, -3, -14.5861) (-23.3536, -3, -17.3536) (-3.8823, -3, -17.5) (21.7305, -3, -26.9403) (23.6603, -3, -18.594) (14.4142, 10, -13.9142) (0, 10, -14.5) (-14.4142, 10, -13.9142) (-15, 10, -8) (-14.4142, 10, -2.0858) (0, 10, -1.5) (14.4142, 10, -2.0858) (15, 10, -8)
sketch "Sketch5" plane through (0, -2, 0) normal (0, -1, 0) x (1, 0, 0)
  circle A0 centre (21, -22.5) radius 1.7 projected
  circle A1 centre (-29.8, -7.3) radius 1.7 projected
  point P0 (0, 0)
extrude "Extrusion5" add sketch "Sketch5" against normal blind 0.2
properties part number "v2breadboardmount"
